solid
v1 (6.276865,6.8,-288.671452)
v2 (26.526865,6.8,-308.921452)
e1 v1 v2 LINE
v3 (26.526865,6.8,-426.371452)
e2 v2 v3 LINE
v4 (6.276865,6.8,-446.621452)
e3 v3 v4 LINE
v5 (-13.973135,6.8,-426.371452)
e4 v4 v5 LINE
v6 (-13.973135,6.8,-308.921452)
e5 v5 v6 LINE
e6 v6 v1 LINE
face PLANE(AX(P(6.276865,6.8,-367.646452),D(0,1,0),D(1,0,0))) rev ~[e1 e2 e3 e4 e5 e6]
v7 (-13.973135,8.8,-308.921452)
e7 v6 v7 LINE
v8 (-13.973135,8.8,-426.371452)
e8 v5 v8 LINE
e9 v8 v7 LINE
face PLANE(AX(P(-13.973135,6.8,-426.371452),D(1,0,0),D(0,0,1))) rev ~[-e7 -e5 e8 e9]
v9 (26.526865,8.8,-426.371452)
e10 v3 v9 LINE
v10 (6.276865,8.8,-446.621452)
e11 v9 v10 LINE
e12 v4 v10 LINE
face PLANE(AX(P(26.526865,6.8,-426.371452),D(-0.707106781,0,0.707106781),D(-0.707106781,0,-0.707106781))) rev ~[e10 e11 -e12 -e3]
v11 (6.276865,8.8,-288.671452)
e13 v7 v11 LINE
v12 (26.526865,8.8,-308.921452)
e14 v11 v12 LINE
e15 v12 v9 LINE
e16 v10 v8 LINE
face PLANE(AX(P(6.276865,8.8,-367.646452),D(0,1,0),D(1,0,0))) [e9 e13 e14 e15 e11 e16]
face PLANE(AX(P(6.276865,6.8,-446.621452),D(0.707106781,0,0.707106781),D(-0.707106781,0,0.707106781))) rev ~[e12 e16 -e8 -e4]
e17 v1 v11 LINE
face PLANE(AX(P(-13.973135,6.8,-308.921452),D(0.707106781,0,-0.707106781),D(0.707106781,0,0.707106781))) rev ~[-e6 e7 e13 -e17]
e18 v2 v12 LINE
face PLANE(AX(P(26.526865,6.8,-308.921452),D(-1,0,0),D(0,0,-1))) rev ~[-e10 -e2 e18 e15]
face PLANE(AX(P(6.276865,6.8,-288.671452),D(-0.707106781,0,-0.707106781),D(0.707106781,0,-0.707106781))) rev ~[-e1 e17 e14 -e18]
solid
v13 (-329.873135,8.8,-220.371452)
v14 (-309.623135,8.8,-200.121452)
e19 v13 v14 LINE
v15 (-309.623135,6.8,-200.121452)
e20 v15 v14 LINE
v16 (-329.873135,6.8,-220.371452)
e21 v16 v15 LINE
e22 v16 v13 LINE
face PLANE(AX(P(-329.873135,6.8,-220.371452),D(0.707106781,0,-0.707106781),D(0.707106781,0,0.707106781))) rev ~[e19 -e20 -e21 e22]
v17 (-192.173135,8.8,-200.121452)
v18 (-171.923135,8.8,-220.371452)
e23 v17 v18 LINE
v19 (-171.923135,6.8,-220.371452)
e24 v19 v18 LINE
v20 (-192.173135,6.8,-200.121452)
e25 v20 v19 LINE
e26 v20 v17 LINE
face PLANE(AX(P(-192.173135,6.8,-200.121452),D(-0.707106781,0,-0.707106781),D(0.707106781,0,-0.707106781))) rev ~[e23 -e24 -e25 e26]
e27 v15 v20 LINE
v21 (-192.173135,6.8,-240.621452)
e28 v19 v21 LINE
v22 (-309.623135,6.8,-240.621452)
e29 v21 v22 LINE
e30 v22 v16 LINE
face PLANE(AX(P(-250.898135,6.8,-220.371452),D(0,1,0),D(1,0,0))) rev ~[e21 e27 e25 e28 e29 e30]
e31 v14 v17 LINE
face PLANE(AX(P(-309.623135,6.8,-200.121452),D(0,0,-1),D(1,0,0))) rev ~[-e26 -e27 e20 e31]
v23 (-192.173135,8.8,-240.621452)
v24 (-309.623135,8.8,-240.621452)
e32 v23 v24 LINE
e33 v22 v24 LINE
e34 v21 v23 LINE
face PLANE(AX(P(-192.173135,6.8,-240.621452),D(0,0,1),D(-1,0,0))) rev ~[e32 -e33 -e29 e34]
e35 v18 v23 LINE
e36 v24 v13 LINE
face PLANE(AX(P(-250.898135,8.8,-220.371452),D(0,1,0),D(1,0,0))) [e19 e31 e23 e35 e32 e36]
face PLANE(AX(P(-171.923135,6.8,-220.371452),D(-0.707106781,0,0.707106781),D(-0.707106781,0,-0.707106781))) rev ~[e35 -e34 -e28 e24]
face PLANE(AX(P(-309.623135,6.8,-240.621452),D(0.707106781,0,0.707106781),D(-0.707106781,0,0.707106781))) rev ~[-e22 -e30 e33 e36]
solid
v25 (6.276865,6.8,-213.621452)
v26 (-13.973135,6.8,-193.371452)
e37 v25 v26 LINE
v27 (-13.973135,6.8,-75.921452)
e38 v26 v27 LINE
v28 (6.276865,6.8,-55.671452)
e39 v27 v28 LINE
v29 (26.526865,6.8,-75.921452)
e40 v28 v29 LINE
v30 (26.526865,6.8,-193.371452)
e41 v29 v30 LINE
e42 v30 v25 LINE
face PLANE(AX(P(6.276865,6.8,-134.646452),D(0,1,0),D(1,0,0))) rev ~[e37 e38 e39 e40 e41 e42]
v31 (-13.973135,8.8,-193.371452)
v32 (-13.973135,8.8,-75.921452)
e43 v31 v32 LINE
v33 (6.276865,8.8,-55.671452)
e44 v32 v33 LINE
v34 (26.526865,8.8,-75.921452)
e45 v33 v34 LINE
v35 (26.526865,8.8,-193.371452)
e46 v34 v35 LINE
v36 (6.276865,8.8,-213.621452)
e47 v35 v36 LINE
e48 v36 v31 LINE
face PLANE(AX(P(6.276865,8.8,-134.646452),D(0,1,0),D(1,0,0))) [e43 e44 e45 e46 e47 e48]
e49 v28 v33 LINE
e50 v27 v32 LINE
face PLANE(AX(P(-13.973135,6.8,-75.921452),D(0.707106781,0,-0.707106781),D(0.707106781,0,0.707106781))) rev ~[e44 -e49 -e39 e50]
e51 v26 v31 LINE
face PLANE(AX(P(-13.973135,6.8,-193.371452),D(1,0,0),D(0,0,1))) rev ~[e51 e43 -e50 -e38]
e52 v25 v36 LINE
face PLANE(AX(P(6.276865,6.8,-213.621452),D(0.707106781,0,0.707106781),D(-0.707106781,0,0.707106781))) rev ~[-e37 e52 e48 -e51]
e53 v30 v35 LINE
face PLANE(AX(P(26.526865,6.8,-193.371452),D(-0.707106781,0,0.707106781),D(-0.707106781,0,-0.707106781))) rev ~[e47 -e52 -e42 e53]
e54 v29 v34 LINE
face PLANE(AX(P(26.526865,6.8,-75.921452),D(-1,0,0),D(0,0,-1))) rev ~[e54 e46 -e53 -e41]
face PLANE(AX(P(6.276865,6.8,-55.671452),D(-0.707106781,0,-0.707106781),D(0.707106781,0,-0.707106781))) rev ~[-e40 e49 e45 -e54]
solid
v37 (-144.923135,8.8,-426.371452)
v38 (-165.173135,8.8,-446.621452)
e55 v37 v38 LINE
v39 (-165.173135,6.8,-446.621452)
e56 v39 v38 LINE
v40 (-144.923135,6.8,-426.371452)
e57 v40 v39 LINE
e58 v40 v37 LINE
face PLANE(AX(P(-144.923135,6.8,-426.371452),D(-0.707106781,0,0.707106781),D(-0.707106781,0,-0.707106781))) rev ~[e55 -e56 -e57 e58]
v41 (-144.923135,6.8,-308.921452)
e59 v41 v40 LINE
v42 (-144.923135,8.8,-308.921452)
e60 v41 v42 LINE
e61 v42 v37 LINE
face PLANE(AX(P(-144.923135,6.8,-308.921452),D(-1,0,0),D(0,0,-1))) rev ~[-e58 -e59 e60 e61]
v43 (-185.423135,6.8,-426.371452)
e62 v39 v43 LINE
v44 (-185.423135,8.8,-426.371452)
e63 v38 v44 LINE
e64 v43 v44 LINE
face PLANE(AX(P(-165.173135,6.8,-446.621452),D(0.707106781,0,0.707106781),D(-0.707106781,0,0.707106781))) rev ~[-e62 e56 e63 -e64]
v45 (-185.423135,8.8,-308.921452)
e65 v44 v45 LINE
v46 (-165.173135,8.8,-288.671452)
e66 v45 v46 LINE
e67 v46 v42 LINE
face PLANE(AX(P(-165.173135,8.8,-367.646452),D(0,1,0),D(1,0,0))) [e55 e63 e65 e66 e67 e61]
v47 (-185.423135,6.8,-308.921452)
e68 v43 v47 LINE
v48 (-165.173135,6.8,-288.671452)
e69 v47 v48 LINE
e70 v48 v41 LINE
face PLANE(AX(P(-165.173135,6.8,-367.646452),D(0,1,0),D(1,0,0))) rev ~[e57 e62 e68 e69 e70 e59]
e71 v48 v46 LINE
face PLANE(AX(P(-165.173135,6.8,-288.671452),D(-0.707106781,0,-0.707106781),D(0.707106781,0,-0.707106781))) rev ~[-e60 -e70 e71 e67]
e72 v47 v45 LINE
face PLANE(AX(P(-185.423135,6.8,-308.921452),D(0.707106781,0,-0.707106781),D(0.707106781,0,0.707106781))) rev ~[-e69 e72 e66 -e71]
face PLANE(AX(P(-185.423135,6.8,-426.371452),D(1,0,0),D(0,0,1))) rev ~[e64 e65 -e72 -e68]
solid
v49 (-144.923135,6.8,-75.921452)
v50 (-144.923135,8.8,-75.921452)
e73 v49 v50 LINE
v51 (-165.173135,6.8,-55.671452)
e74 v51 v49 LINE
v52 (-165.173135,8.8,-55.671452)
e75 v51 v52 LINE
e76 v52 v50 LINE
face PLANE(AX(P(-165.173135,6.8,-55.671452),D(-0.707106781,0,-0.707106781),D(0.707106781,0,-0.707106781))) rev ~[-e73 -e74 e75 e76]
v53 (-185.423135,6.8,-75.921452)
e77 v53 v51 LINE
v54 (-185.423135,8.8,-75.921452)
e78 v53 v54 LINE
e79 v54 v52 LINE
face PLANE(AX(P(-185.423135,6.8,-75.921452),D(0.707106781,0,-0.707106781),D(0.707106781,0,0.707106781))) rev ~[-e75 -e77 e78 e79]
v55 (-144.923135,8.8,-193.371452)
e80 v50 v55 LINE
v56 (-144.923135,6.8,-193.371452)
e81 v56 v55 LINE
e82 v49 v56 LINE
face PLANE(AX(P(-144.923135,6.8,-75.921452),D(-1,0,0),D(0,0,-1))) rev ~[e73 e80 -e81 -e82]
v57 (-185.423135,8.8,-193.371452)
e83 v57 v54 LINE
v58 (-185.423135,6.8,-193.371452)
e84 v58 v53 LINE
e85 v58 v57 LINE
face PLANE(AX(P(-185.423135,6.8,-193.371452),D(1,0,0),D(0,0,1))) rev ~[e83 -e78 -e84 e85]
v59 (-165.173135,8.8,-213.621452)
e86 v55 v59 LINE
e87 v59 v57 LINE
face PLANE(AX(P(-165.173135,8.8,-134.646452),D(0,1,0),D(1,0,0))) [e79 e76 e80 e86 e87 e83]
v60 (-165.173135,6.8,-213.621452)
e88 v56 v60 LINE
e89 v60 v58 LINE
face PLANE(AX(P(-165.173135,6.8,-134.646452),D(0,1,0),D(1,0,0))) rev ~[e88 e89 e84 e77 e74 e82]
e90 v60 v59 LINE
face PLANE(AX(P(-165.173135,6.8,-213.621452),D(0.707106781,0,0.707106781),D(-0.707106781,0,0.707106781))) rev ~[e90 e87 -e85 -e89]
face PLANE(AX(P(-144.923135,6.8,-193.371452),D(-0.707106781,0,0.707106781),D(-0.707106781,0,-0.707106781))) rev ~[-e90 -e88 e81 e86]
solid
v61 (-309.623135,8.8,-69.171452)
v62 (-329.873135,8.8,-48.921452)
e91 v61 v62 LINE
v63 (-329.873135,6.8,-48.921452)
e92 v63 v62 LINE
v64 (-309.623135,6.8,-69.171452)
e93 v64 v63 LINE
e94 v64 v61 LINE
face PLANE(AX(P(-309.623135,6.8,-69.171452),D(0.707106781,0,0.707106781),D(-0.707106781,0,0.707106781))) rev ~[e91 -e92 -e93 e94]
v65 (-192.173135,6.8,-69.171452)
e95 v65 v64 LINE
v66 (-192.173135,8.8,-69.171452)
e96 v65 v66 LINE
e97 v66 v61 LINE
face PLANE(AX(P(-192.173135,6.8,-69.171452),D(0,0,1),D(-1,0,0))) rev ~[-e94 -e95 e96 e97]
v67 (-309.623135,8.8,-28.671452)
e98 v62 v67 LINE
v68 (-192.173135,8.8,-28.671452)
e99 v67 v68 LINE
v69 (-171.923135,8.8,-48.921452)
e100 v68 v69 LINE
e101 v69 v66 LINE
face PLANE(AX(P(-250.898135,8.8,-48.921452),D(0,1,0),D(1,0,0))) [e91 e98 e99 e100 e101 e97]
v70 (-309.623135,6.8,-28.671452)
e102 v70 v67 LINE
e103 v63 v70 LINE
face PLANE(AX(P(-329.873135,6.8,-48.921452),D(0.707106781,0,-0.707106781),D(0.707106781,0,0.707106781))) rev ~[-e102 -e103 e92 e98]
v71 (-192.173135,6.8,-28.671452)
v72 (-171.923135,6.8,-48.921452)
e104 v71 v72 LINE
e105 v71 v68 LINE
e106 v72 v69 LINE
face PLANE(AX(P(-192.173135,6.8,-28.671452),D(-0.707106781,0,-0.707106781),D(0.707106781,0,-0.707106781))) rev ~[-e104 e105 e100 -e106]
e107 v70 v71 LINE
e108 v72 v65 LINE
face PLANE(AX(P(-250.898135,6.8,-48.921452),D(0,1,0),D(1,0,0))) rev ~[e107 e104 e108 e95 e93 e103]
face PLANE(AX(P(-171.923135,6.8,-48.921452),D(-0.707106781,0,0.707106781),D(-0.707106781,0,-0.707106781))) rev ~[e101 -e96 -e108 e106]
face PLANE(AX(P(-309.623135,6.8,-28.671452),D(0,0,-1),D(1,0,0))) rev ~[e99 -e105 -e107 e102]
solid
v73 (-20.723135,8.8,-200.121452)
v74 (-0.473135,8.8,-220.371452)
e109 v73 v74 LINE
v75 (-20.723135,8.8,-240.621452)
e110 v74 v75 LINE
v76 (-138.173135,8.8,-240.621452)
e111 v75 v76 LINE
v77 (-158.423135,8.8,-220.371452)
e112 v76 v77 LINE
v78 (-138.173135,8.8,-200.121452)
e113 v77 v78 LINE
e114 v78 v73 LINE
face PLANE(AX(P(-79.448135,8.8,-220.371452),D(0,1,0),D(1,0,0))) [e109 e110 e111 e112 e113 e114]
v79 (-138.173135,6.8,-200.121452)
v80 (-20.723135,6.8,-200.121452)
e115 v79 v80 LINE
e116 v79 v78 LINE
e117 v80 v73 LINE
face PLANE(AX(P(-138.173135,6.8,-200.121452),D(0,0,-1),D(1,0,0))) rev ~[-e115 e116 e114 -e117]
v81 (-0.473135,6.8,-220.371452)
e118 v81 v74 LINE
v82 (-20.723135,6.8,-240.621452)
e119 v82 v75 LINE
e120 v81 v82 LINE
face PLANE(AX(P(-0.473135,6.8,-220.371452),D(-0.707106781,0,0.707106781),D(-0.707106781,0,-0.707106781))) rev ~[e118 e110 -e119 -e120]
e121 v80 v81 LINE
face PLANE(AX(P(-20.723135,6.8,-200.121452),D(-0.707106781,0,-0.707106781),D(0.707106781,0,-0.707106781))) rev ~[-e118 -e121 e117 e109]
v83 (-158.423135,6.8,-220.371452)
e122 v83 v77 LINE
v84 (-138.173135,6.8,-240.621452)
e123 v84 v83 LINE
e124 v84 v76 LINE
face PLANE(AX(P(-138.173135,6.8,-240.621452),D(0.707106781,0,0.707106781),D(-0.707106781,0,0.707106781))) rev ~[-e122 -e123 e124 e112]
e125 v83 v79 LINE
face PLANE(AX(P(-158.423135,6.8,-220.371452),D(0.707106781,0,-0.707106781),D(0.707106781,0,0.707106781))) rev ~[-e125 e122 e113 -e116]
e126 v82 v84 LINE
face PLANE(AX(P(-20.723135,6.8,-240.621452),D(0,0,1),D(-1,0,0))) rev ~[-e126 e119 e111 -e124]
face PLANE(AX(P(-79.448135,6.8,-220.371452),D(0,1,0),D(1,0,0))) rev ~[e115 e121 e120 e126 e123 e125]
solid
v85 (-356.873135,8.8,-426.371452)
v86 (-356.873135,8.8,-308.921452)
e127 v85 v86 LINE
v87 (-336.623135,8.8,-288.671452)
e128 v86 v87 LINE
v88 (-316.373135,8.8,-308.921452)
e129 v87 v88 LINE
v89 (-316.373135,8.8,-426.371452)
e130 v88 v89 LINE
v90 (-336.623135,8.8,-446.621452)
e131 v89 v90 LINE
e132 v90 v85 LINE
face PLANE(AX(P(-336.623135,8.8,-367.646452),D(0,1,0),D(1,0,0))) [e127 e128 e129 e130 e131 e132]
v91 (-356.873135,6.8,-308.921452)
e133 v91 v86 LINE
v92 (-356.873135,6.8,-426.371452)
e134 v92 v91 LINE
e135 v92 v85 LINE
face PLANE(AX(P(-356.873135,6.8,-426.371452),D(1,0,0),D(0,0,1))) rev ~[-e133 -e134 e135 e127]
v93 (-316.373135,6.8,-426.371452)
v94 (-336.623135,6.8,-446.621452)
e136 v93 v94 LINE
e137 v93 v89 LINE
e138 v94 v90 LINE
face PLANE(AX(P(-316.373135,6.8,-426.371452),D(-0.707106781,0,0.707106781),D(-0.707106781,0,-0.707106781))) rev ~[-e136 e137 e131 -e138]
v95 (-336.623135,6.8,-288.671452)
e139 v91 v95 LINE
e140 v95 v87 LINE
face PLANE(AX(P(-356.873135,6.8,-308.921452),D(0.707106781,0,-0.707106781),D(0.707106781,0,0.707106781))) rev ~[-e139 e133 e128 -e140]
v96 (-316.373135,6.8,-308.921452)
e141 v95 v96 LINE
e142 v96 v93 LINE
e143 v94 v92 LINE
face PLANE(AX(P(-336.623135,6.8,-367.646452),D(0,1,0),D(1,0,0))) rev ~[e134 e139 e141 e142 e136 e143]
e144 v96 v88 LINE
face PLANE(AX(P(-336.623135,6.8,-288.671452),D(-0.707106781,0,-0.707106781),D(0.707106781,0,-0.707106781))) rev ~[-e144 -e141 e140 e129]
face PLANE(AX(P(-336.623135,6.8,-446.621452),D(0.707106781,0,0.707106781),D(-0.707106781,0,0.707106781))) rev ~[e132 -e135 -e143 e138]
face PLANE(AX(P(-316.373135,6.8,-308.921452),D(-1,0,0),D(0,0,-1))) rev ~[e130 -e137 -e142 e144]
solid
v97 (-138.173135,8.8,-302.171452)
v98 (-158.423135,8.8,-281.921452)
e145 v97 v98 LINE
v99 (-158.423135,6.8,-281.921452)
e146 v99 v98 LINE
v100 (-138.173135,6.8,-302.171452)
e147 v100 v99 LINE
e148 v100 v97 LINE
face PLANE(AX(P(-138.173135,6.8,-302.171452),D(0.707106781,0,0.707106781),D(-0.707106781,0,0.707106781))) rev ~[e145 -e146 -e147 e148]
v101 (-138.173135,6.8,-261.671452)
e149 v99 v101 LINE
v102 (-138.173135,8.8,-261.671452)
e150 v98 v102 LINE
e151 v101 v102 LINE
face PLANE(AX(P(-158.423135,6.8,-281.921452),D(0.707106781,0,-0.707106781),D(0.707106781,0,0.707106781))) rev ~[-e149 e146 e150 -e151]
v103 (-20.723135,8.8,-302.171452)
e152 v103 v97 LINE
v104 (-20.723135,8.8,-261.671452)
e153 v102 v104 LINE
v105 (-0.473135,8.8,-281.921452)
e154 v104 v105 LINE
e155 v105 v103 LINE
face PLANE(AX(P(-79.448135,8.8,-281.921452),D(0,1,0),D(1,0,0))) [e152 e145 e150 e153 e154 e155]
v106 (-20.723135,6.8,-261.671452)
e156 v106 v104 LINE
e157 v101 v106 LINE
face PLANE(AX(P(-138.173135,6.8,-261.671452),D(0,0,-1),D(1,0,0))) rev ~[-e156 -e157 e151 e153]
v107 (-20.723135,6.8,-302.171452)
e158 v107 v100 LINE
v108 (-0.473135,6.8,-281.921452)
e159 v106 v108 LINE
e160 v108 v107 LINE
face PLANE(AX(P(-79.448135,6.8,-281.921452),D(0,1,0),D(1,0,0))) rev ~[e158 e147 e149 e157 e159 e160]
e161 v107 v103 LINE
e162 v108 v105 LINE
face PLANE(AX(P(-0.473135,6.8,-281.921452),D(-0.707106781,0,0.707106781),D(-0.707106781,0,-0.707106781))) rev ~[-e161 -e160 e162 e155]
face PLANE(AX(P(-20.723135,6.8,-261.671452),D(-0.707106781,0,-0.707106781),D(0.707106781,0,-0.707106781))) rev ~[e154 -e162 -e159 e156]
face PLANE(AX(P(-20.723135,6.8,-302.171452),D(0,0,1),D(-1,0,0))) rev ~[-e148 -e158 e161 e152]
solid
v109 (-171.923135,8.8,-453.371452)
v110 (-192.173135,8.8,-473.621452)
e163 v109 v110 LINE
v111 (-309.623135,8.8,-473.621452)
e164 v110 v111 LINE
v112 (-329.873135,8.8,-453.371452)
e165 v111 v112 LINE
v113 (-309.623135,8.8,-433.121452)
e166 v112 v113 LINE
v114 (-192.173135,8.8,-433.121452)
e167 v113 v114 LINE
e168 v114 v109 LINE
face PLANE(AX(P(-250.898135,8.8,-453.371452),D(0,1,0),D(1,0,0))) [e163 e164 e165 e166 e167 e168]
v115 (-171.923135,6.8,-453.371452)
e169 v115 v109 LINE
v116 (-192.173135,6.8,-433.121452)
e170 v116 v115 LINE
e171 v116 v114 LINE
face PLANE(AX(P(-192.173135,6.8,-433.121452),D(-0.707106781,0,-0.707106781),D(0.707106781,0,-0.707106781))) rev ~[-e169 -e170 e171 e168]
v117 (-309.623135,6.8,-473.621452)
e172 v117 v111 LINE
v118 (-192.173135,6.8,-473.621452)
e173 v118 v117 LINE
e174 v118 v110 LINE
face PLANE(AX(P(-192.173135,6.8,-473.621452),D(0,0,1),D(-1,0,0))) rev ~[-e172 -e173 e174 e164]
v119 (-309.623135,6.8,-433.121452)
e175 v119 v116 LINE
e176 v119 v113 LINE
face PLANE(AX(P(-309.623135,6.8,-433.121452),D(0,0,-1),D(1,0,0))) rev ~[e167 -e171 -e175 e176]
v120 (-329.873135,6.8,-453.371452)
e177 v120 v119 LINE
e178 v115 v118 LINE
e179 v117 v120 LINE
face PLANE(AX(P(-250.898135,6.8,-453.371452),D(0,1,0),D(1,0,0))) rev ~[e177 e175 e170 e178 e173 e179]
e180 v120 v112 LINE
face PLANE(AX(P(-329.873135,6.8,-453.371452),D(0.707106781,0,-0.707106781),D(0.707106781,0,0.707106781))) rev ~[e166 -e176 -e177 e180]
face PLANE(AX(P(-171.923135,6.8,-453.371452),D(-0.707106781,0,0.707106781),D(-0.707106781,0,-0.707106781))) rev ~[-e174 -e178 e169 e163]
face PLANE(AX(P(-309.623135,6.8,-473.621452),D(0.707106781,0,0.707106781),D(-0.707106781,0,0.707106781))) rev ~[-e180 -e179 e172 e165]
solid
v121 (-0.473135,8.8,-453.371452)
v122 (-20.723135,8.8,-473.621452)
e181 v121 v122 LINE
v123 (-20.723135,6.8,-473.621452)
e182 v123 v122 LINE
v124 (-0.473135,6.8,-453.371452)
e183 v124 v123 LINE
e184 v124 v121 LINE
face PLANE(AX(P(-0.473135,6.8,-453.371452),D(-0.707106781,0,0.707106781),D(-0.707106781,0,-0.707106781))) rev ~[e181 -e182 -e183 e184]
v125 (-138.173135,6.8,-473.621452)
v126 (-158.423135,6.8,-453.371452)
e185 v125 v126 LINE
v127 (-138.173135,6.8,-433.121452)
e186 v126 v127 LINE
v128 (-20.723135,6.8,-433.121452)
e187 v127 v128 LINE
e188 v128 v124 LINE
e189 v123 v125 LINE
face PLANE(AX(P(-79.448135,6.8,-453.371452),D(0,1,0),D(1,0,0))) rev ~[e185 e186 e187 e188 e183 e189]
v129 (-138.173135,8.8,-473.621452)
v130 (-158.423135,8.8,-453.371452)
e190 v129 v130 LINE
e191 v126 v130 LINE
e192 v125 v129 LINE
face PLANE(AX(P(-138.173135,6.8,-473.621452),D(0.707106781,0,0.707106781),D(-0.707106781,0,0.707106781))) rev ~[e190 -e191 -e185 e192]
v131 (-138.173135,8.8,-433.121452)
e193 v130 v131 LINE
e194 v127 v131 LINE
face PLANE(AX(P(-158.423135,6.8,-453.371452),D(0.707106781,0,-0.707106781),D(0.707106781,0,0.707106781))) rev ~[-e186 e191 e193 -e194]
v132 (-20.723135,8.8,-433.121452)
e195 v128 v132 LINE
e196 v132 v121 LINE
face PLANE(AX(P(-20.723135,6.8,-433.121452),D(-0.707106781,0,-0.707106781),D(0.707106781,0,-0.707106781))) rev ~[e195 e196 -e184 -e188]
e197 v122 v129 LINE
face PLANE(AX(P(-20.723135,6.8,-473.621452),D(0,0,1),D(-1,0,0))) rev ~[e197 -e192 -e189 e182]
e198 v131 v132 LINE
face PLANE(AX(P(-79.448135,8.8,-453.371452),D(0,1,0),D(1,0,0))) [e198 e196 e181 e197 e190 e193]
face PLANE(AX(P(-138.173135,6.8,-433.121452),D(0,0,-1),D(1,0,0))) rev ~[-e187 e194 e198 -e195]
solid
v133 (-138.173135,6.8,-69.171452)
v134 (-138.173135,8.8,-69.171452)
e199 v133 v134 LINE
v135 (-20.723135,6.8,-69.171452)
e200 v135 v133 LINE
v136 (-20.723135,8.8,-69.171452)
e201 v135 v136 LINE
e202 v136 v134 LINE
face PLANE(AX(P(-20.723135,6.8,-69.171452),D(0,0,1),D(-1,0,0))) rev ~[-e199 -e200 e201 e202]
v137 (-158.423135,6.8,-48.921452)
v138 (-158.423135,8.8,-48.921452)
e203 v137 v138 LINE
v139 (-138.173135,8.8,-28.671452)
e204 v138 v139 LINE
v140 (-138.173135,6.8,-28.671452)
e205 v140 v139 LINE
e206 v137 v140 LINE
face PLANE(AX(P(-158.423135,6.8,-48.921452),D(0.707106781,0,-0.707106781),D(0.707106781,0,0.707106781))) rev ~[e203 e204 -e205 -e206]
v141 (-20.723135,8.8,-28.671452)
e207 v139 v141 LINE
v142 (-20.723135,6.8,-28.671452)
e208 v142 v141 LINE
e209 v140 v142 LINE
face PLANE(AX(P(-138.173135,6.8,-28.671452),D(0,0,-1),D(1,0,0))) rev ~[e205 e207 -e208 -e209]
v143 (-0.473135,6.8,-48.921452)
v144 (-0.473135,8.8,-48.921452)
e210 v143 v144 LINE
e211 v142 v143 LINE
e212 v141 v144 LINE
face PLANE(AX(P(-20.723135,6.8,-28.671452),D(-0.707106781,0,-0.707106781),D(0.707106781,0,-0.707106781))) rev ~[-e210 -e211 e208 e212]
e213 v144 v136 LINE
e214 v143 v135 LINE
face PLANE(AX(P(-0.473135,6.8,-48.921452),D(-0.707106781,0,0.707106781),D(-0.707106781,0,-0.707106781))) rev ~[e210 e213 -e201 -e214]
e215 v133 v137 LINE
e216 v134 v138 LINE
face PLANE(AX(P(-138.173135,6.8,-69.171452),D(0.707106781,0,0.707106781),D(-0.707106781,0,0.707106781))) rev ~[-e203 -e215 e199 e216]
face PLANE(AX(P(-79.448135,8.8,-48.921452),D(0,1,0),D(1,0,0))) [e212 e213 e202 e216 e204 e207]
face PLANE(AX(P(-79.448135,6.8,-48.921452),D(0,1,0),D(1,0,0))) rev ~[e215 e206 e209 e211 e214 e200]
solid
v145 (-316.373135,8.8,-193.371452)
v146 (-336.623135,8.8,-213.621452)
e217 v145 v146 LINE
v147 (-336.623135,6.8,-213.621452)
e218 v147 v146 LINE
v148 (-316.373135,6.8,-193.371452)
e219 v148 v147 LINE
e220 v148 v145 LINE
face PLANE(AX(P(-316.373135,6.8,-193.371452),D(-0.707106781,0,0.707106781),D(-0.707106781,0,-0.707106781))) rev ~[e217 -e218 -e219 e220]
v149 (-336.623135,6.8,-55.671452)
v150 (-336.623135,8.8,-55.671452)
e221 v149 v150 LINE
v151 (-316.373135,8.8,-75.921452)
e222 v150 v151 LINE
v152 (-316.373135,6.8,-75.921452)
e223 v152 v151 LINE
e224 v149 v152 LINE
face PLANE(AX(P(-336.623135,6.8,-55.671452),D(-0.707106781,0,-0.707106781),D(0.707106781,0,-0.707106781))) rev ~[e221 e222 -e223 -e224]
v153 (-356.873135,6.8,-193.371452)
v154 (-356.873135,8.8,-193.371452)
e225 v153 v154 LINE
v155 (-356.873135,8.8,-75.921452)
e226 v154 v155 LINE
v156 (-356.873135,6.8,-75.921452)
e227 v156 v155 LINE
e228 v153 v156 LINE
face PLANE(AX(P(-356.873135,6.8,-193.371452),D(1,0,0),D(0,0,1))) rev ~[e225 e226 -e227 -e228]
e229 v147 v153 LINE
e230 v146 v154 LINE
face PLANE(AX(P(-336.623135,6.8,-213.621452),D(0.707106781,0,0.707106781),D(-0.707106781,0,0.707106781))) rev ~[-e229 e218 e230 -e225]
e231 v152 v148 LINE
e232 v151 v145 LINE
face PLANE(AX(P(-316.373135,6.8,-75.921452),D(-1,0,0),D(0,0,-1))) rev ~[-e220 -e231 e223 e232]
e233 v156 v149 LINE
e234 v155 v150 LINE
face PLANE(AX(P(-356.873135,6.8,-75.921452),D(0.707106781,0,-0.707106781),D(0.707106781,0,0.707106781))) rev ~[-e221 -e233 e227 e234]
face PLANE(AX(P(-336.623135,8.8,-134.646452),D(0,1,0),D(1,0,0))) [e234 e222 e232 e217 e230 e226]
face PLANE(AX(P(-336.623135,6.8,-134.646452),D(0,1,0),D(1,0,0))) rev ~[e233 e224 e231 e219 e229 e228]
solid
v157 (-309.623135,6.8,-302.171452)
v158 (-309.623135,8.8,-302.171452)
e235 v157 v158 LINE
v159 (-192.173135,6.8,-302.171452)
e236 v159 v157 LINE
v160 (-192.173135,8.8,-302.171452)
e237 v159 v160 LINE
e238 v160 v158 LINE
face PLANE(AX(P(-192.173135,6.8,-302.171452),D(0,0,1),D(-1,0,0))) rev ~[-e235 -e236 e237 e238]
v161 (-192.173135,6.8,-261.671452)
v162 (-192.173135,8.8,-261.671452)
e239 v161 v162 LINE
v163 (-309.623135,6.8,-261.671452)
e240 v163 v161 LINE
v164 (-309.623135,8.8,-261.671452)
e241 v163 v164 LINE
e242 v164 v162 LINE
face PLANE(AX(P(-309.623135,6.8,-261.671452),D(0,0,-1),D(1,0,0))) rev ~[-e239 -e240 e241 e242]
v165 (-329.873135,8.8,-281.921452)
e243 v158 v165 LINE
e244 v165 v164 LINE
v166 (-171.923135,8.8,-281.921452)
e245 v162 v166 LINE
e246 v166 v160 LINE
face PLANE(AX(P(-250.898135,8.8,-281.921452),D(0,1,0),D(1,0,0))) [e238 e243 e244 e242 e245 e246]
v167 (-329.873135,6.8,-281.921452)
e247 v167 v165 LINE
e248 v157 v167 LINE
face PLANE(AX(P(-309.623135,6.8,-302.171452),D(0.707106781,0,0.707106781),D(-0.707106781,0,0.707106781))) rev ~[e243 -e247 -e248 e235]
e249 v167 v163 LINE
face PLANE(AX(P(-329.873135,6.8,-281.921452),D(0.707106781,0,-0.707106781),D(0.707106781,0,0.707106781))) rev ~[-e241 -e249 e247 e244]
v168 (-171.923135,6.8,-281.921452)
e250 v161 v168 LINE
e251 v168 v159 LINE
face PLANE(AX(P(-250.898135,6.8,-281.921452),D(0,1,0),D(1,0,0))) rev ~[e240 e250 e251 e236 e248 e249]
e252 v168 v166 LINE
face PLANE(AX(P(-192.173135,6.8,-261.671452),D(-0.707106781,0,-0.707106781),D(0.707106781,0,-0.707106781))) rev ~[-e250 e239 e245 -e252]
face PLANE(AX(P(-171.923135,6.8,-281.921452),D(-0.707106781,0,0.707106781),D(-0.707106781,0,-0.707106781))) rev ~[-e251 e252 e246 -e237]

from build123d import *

# Parameters (mm, degrees)
RESSALTO_EXTRUS_O1_DEPTH    = 2
RESSALTO_EXTRUS_O1_2_DEPTH  = 2
RESSALTO_EXTRUS_O1_3_DEPTH  = 2
RESSALTO_EXTRUS_O1_4_DEPTH  = 2
RESSALTO_EXTRUS_O1_5_DEPTH  = 2
RESSALTO_EXTRUS_O1_6_DEPTH  = 2
RESSALTO_EXTRUS_O1_7_DEPTH  = 2
RESSALTO_EXTRUS_O1_8_DEPTH  = 2
RESSALTO_EXTRUS_O1_9_DEPTH  = 2
RESSALTO_EXTRUS_O1_10_DEPTH = 2
RESSALTO_EXTRUS_O1_11_DEPTH = 2
RESSALTO_EXTRUS_O1_12_DEPTH = 2
RESSALTO_EXTRUS_O1_13_DEPTH = 2
RESSALTO_EXTRUS_O1_14_DEPTH = 2


with BuildPart() as part:
    # Esboço1 → Ressalto-extrusão1 (new body)
    with BuildSketch(Plane(origin=(0, 6.8, 0), x_dir=(1, 0, 0), z_dir=(0, 1, 0))):
        Polygon((-165.173134603, 288.671451709), (-144.923134603, 308.921451709), (-144.923134603, 426.371451709), (-165.173134603, 446.621451709), (-185.423134603, 426.371451709), (-185.423134603, 308.921451709), align=None)
    extrude(amount=RESSALTO_EXTRUS_O1_DEPTH)


with BuildPart() as body_2:
    # Esboço1 → Ressalto-extrus_o1 2 (new body)
    with BuildSketch(Plane(origin=(0, 6.8, 0), x_dir=(1, 0, 0), z_dir=(0, 1, 0))):
        Polygon((-309.623134603, 261.671451709), (-192.173134603, 261.671451709), (-171.923134603, 281.921451709), (-192.173134603, 302.171451709), (-309.623134603, 302.171451709), (-329.873134603, 281.921451709), align=None)
    extrude(amount=RESSALTO_EXTRUS_O1_2_DEPTH)


with BuildPart() as body_3:
    # Esboço1 → Ressalto-extrus_o1 3 (new body)
    with BuildSketch(Plane(origin=(0, 6.8, 0), x_dir=(1, 0, 0), z_dir=(0, 1, 0))):
        Polygon((-192.173134603, 473.621451709), (-309.623134603, 473.621451709), (-329.873134603, 453.371451709), (-309.623134603, 433.121451709), (-192.173134603, 433.121451709), (-171.923134603, 453.371451709), align=None)
    extrude(amount=RESSALTO_EXTRUS_O1_3_DEPTH)


with BuildPart() as body_4:
    # Esboço1 → Ressalto-extrus_o1 4 (new body)
    with BuildSketch(Plane(origin=(0, 6.8, 0), x_dir=(1, 0, 0), z_dir=(0, 1, 0))):
        Polygon((-336.623134603, 446.621451709), (-356.873134603, 426.371451709), (-356.873134603, 308.921451709), (-336.623134603, 288.671451709), (-316.373134603, 308.921451709), (-316.373134603, 426.371451709), align=None)
    extrude(amount=RESSALTO_EXTRUS_O1_4_DEPTH)


with BuildPart() as body_5:
    # Esboço1 → Ressalto-extrus_o1 5 (new body)
    with BuildSketch(Plane(origin=(0, 6.8, 0), x_dir=(1, 0, 0), z_dir=(0, 1, 0))):
        Polygon((-0.473134603, 453.371451709), (-20.723134603, 473.621451709), (-138.173134603, 473.621451709), (-158.423134603, 453.371451709), (-138.173134603, 433.121451709), (-20.723134603, 433.121451709), align=None)
    extrude(amount=RESSALTO_EXTRUS_O1_5_DEPTH)


with BuildPart() as body_6:
    # Esboço1 → Ressalto-extrus_o1 6 (new body)
    with BuildSketch(Plane(origin=(0, 6.8, 0), x_dir=(1, 0, 0), z_dir=(0, 1, 0))):
        Polygon((26.526865397, 308.921451709), (26.526865397, 426.371451709), (6.276865397, 446.621451709), (-13.973134603, 426.371451709), (-13.973134603, 308.921451709), (6.276865397, 288.671451709), align=None)
    extrude(amount=RESSALTO_EXTRUS_O1_6_DEPTH)


with BuildPart() as body_7:
    # Esboço1 → Ressalto-extrus_o1 7 (new body)
    with BuildSketch(Plane(origin=(0, 6.8, 0), x_dir=(1, 0, 0), z_dir=(0, 1, 0))):
        Polygon((-20.723134603, 261.671451709), (-0.473134603, 281.921451709), (-20.723134603, 302.171451709), (-138.173134603, 302.171451709), (-158.423134603, 281.921451709), (-138.173134603, 261.671451709), align=None)
    extrude(amount=RESSALTO_EXTRUS_O1_7_DEPTH)


with BuildPart() as body_8:
    # Esboço1 → Ressalto-extrus_o1 8 (new body)
    with BuildSketch(Plane(origin=(0, 6.8, 0), x_dir=(1, 0, 0), z_dir=(0, 1, 0))):
        Polygon((-165.173134603, 55.671451709), (-144.923134603, 75.921451709), (-144.923134603, 193.371451709), (-165.173134603, 213.621451709), (-185.423134603, 193.371451709), (-185.423134603, 75.921451709), align=None)
    extrude(amount=RESSALTO_EXTRUS_O1_8_DEPTH)


with BuildPart() as body_9:
    # Esboço1 → Ressalto-extrus_o1 9 (new body)
    with BuildSketch(Plane(origin=(0, 6.8, 0), x_dir=(1, 0, 0), z_dir=(0, 1, 0))):
        Polygon((-309.623134603, 28.671451709), (-192.173134603, 28.671451709), (-171.923134603, 48.921451709), (-192.173134603, 69.171451709), (-309.623134603, 69.171451709), (-329.873134603, 48.921451709), align=None)
    extrude(amount=RESSALTO_EXTRUS_O1_9_DEPTH)


with BuildPart() as body_10:
    # Esboço1 → Ressalto-extrus_o1 10 (new body)
    with BuildSketch(Plane(origin=(0, 6.8, 0), x_dir=(1, 0, 0), z_dir=(0, 1, 0))):
        Polygon((-192.173134603, 240.621451709), (-309.623134603, 240.621451709), (-329.873134603, 220.371451709), (-309.623134603, 200.121451709), (-192.173134603, 200.121451709), (-171.923134603, 220.371451709), align=None)
    extrude(amount=RESSALTO_EXTRUS_O1_10_DEPTH)


with BuildPart() as body_11:
    # Esboço1 → Ressalto-extrus_o1 11 (new body)
    with BuildSketch(Plane(origin=(0, 6.8, 0), x_dir=(1, 0, 0), z_dir=(0, 1, 0))):
        Polygon((-336.623134603, 213.621451709), (-356.873134603, 193.371451709), (-356.873134603, 75.921451709), (-336.623134603, 55.671451709), (-316.373134603, 75.921451709), (-316.373134603, 193.371451709), align=None)
    extrude(amount=RESSALTO_EXTRUS_O1_11_DEPTH)


with BuildPart() as body_12:
    # Esboço1 → Ressalto-extrus_o1 12 (new body)
    with BuildSketch(Plane(origin=(0, 6.8, 0), x_dir=(1, 0, 0), z_dir=(0, 1, 0))):
        Polygon((-0.473134603, 220.371451709), (-20.723134603, 240.621451709), (-138.173134603, 240.621451709), (-158.423134603, 220.371451709), (-138.173134603, 200.121451709), (-20.723134603, 200.121451709), align=None)
    extrude(amount=RESSALTO_EXTRUS_O1_12_DEPTH)


with BuildPart() as body_13:
    # Esboço1 → Ressalto-extrus_o1 13 (new body)
    with BuildSketch(Plane(origin=(0, 6.8, 0), x_dir=(1, 0, 0), z_dir=(0, 1, 0))):
        Polygon((26.526865397, 75.921451709), (26.526865397, 193.371451709), (6.276865397, 213.621451709), (-13.973134603, 193.371451709), (-13.973134603, 75.921451709), (6.276865397, 55.671451709), align=None)
    extrude(amount=RESSALTO_EXTRUS_O1_13_DEPTH)


with BuildPart() as body_14:
    # Esboço1 → Ressalto-extrus_o1 14 (new body)
    with BuildSketch(Plane(origin=(0, 6.8, 0), x_dir=(1, 0, 0), z_dir=(0, 1, 0))):
        Polygon((-20.723134603, 28.671451709), (-0.473134603, 48.921451709), (-20.723134603, 69.171451709), (-138.173134603, 69.171451709), (-158.423134603, 48.921451709), (-138.173134603, 28.671451709), align=None)
    extrude(amount=RESSALTO_EXTRUS_O1_14_DEPTH)


solid = Compound([part.part, body_2.part, body_3.part, body_4.part, body_5.part, body_6.part, body_7.part, body_8.part, body_9.part, body_10.part, body_11.part, body_12.part, body_13.part, body_14.part])
